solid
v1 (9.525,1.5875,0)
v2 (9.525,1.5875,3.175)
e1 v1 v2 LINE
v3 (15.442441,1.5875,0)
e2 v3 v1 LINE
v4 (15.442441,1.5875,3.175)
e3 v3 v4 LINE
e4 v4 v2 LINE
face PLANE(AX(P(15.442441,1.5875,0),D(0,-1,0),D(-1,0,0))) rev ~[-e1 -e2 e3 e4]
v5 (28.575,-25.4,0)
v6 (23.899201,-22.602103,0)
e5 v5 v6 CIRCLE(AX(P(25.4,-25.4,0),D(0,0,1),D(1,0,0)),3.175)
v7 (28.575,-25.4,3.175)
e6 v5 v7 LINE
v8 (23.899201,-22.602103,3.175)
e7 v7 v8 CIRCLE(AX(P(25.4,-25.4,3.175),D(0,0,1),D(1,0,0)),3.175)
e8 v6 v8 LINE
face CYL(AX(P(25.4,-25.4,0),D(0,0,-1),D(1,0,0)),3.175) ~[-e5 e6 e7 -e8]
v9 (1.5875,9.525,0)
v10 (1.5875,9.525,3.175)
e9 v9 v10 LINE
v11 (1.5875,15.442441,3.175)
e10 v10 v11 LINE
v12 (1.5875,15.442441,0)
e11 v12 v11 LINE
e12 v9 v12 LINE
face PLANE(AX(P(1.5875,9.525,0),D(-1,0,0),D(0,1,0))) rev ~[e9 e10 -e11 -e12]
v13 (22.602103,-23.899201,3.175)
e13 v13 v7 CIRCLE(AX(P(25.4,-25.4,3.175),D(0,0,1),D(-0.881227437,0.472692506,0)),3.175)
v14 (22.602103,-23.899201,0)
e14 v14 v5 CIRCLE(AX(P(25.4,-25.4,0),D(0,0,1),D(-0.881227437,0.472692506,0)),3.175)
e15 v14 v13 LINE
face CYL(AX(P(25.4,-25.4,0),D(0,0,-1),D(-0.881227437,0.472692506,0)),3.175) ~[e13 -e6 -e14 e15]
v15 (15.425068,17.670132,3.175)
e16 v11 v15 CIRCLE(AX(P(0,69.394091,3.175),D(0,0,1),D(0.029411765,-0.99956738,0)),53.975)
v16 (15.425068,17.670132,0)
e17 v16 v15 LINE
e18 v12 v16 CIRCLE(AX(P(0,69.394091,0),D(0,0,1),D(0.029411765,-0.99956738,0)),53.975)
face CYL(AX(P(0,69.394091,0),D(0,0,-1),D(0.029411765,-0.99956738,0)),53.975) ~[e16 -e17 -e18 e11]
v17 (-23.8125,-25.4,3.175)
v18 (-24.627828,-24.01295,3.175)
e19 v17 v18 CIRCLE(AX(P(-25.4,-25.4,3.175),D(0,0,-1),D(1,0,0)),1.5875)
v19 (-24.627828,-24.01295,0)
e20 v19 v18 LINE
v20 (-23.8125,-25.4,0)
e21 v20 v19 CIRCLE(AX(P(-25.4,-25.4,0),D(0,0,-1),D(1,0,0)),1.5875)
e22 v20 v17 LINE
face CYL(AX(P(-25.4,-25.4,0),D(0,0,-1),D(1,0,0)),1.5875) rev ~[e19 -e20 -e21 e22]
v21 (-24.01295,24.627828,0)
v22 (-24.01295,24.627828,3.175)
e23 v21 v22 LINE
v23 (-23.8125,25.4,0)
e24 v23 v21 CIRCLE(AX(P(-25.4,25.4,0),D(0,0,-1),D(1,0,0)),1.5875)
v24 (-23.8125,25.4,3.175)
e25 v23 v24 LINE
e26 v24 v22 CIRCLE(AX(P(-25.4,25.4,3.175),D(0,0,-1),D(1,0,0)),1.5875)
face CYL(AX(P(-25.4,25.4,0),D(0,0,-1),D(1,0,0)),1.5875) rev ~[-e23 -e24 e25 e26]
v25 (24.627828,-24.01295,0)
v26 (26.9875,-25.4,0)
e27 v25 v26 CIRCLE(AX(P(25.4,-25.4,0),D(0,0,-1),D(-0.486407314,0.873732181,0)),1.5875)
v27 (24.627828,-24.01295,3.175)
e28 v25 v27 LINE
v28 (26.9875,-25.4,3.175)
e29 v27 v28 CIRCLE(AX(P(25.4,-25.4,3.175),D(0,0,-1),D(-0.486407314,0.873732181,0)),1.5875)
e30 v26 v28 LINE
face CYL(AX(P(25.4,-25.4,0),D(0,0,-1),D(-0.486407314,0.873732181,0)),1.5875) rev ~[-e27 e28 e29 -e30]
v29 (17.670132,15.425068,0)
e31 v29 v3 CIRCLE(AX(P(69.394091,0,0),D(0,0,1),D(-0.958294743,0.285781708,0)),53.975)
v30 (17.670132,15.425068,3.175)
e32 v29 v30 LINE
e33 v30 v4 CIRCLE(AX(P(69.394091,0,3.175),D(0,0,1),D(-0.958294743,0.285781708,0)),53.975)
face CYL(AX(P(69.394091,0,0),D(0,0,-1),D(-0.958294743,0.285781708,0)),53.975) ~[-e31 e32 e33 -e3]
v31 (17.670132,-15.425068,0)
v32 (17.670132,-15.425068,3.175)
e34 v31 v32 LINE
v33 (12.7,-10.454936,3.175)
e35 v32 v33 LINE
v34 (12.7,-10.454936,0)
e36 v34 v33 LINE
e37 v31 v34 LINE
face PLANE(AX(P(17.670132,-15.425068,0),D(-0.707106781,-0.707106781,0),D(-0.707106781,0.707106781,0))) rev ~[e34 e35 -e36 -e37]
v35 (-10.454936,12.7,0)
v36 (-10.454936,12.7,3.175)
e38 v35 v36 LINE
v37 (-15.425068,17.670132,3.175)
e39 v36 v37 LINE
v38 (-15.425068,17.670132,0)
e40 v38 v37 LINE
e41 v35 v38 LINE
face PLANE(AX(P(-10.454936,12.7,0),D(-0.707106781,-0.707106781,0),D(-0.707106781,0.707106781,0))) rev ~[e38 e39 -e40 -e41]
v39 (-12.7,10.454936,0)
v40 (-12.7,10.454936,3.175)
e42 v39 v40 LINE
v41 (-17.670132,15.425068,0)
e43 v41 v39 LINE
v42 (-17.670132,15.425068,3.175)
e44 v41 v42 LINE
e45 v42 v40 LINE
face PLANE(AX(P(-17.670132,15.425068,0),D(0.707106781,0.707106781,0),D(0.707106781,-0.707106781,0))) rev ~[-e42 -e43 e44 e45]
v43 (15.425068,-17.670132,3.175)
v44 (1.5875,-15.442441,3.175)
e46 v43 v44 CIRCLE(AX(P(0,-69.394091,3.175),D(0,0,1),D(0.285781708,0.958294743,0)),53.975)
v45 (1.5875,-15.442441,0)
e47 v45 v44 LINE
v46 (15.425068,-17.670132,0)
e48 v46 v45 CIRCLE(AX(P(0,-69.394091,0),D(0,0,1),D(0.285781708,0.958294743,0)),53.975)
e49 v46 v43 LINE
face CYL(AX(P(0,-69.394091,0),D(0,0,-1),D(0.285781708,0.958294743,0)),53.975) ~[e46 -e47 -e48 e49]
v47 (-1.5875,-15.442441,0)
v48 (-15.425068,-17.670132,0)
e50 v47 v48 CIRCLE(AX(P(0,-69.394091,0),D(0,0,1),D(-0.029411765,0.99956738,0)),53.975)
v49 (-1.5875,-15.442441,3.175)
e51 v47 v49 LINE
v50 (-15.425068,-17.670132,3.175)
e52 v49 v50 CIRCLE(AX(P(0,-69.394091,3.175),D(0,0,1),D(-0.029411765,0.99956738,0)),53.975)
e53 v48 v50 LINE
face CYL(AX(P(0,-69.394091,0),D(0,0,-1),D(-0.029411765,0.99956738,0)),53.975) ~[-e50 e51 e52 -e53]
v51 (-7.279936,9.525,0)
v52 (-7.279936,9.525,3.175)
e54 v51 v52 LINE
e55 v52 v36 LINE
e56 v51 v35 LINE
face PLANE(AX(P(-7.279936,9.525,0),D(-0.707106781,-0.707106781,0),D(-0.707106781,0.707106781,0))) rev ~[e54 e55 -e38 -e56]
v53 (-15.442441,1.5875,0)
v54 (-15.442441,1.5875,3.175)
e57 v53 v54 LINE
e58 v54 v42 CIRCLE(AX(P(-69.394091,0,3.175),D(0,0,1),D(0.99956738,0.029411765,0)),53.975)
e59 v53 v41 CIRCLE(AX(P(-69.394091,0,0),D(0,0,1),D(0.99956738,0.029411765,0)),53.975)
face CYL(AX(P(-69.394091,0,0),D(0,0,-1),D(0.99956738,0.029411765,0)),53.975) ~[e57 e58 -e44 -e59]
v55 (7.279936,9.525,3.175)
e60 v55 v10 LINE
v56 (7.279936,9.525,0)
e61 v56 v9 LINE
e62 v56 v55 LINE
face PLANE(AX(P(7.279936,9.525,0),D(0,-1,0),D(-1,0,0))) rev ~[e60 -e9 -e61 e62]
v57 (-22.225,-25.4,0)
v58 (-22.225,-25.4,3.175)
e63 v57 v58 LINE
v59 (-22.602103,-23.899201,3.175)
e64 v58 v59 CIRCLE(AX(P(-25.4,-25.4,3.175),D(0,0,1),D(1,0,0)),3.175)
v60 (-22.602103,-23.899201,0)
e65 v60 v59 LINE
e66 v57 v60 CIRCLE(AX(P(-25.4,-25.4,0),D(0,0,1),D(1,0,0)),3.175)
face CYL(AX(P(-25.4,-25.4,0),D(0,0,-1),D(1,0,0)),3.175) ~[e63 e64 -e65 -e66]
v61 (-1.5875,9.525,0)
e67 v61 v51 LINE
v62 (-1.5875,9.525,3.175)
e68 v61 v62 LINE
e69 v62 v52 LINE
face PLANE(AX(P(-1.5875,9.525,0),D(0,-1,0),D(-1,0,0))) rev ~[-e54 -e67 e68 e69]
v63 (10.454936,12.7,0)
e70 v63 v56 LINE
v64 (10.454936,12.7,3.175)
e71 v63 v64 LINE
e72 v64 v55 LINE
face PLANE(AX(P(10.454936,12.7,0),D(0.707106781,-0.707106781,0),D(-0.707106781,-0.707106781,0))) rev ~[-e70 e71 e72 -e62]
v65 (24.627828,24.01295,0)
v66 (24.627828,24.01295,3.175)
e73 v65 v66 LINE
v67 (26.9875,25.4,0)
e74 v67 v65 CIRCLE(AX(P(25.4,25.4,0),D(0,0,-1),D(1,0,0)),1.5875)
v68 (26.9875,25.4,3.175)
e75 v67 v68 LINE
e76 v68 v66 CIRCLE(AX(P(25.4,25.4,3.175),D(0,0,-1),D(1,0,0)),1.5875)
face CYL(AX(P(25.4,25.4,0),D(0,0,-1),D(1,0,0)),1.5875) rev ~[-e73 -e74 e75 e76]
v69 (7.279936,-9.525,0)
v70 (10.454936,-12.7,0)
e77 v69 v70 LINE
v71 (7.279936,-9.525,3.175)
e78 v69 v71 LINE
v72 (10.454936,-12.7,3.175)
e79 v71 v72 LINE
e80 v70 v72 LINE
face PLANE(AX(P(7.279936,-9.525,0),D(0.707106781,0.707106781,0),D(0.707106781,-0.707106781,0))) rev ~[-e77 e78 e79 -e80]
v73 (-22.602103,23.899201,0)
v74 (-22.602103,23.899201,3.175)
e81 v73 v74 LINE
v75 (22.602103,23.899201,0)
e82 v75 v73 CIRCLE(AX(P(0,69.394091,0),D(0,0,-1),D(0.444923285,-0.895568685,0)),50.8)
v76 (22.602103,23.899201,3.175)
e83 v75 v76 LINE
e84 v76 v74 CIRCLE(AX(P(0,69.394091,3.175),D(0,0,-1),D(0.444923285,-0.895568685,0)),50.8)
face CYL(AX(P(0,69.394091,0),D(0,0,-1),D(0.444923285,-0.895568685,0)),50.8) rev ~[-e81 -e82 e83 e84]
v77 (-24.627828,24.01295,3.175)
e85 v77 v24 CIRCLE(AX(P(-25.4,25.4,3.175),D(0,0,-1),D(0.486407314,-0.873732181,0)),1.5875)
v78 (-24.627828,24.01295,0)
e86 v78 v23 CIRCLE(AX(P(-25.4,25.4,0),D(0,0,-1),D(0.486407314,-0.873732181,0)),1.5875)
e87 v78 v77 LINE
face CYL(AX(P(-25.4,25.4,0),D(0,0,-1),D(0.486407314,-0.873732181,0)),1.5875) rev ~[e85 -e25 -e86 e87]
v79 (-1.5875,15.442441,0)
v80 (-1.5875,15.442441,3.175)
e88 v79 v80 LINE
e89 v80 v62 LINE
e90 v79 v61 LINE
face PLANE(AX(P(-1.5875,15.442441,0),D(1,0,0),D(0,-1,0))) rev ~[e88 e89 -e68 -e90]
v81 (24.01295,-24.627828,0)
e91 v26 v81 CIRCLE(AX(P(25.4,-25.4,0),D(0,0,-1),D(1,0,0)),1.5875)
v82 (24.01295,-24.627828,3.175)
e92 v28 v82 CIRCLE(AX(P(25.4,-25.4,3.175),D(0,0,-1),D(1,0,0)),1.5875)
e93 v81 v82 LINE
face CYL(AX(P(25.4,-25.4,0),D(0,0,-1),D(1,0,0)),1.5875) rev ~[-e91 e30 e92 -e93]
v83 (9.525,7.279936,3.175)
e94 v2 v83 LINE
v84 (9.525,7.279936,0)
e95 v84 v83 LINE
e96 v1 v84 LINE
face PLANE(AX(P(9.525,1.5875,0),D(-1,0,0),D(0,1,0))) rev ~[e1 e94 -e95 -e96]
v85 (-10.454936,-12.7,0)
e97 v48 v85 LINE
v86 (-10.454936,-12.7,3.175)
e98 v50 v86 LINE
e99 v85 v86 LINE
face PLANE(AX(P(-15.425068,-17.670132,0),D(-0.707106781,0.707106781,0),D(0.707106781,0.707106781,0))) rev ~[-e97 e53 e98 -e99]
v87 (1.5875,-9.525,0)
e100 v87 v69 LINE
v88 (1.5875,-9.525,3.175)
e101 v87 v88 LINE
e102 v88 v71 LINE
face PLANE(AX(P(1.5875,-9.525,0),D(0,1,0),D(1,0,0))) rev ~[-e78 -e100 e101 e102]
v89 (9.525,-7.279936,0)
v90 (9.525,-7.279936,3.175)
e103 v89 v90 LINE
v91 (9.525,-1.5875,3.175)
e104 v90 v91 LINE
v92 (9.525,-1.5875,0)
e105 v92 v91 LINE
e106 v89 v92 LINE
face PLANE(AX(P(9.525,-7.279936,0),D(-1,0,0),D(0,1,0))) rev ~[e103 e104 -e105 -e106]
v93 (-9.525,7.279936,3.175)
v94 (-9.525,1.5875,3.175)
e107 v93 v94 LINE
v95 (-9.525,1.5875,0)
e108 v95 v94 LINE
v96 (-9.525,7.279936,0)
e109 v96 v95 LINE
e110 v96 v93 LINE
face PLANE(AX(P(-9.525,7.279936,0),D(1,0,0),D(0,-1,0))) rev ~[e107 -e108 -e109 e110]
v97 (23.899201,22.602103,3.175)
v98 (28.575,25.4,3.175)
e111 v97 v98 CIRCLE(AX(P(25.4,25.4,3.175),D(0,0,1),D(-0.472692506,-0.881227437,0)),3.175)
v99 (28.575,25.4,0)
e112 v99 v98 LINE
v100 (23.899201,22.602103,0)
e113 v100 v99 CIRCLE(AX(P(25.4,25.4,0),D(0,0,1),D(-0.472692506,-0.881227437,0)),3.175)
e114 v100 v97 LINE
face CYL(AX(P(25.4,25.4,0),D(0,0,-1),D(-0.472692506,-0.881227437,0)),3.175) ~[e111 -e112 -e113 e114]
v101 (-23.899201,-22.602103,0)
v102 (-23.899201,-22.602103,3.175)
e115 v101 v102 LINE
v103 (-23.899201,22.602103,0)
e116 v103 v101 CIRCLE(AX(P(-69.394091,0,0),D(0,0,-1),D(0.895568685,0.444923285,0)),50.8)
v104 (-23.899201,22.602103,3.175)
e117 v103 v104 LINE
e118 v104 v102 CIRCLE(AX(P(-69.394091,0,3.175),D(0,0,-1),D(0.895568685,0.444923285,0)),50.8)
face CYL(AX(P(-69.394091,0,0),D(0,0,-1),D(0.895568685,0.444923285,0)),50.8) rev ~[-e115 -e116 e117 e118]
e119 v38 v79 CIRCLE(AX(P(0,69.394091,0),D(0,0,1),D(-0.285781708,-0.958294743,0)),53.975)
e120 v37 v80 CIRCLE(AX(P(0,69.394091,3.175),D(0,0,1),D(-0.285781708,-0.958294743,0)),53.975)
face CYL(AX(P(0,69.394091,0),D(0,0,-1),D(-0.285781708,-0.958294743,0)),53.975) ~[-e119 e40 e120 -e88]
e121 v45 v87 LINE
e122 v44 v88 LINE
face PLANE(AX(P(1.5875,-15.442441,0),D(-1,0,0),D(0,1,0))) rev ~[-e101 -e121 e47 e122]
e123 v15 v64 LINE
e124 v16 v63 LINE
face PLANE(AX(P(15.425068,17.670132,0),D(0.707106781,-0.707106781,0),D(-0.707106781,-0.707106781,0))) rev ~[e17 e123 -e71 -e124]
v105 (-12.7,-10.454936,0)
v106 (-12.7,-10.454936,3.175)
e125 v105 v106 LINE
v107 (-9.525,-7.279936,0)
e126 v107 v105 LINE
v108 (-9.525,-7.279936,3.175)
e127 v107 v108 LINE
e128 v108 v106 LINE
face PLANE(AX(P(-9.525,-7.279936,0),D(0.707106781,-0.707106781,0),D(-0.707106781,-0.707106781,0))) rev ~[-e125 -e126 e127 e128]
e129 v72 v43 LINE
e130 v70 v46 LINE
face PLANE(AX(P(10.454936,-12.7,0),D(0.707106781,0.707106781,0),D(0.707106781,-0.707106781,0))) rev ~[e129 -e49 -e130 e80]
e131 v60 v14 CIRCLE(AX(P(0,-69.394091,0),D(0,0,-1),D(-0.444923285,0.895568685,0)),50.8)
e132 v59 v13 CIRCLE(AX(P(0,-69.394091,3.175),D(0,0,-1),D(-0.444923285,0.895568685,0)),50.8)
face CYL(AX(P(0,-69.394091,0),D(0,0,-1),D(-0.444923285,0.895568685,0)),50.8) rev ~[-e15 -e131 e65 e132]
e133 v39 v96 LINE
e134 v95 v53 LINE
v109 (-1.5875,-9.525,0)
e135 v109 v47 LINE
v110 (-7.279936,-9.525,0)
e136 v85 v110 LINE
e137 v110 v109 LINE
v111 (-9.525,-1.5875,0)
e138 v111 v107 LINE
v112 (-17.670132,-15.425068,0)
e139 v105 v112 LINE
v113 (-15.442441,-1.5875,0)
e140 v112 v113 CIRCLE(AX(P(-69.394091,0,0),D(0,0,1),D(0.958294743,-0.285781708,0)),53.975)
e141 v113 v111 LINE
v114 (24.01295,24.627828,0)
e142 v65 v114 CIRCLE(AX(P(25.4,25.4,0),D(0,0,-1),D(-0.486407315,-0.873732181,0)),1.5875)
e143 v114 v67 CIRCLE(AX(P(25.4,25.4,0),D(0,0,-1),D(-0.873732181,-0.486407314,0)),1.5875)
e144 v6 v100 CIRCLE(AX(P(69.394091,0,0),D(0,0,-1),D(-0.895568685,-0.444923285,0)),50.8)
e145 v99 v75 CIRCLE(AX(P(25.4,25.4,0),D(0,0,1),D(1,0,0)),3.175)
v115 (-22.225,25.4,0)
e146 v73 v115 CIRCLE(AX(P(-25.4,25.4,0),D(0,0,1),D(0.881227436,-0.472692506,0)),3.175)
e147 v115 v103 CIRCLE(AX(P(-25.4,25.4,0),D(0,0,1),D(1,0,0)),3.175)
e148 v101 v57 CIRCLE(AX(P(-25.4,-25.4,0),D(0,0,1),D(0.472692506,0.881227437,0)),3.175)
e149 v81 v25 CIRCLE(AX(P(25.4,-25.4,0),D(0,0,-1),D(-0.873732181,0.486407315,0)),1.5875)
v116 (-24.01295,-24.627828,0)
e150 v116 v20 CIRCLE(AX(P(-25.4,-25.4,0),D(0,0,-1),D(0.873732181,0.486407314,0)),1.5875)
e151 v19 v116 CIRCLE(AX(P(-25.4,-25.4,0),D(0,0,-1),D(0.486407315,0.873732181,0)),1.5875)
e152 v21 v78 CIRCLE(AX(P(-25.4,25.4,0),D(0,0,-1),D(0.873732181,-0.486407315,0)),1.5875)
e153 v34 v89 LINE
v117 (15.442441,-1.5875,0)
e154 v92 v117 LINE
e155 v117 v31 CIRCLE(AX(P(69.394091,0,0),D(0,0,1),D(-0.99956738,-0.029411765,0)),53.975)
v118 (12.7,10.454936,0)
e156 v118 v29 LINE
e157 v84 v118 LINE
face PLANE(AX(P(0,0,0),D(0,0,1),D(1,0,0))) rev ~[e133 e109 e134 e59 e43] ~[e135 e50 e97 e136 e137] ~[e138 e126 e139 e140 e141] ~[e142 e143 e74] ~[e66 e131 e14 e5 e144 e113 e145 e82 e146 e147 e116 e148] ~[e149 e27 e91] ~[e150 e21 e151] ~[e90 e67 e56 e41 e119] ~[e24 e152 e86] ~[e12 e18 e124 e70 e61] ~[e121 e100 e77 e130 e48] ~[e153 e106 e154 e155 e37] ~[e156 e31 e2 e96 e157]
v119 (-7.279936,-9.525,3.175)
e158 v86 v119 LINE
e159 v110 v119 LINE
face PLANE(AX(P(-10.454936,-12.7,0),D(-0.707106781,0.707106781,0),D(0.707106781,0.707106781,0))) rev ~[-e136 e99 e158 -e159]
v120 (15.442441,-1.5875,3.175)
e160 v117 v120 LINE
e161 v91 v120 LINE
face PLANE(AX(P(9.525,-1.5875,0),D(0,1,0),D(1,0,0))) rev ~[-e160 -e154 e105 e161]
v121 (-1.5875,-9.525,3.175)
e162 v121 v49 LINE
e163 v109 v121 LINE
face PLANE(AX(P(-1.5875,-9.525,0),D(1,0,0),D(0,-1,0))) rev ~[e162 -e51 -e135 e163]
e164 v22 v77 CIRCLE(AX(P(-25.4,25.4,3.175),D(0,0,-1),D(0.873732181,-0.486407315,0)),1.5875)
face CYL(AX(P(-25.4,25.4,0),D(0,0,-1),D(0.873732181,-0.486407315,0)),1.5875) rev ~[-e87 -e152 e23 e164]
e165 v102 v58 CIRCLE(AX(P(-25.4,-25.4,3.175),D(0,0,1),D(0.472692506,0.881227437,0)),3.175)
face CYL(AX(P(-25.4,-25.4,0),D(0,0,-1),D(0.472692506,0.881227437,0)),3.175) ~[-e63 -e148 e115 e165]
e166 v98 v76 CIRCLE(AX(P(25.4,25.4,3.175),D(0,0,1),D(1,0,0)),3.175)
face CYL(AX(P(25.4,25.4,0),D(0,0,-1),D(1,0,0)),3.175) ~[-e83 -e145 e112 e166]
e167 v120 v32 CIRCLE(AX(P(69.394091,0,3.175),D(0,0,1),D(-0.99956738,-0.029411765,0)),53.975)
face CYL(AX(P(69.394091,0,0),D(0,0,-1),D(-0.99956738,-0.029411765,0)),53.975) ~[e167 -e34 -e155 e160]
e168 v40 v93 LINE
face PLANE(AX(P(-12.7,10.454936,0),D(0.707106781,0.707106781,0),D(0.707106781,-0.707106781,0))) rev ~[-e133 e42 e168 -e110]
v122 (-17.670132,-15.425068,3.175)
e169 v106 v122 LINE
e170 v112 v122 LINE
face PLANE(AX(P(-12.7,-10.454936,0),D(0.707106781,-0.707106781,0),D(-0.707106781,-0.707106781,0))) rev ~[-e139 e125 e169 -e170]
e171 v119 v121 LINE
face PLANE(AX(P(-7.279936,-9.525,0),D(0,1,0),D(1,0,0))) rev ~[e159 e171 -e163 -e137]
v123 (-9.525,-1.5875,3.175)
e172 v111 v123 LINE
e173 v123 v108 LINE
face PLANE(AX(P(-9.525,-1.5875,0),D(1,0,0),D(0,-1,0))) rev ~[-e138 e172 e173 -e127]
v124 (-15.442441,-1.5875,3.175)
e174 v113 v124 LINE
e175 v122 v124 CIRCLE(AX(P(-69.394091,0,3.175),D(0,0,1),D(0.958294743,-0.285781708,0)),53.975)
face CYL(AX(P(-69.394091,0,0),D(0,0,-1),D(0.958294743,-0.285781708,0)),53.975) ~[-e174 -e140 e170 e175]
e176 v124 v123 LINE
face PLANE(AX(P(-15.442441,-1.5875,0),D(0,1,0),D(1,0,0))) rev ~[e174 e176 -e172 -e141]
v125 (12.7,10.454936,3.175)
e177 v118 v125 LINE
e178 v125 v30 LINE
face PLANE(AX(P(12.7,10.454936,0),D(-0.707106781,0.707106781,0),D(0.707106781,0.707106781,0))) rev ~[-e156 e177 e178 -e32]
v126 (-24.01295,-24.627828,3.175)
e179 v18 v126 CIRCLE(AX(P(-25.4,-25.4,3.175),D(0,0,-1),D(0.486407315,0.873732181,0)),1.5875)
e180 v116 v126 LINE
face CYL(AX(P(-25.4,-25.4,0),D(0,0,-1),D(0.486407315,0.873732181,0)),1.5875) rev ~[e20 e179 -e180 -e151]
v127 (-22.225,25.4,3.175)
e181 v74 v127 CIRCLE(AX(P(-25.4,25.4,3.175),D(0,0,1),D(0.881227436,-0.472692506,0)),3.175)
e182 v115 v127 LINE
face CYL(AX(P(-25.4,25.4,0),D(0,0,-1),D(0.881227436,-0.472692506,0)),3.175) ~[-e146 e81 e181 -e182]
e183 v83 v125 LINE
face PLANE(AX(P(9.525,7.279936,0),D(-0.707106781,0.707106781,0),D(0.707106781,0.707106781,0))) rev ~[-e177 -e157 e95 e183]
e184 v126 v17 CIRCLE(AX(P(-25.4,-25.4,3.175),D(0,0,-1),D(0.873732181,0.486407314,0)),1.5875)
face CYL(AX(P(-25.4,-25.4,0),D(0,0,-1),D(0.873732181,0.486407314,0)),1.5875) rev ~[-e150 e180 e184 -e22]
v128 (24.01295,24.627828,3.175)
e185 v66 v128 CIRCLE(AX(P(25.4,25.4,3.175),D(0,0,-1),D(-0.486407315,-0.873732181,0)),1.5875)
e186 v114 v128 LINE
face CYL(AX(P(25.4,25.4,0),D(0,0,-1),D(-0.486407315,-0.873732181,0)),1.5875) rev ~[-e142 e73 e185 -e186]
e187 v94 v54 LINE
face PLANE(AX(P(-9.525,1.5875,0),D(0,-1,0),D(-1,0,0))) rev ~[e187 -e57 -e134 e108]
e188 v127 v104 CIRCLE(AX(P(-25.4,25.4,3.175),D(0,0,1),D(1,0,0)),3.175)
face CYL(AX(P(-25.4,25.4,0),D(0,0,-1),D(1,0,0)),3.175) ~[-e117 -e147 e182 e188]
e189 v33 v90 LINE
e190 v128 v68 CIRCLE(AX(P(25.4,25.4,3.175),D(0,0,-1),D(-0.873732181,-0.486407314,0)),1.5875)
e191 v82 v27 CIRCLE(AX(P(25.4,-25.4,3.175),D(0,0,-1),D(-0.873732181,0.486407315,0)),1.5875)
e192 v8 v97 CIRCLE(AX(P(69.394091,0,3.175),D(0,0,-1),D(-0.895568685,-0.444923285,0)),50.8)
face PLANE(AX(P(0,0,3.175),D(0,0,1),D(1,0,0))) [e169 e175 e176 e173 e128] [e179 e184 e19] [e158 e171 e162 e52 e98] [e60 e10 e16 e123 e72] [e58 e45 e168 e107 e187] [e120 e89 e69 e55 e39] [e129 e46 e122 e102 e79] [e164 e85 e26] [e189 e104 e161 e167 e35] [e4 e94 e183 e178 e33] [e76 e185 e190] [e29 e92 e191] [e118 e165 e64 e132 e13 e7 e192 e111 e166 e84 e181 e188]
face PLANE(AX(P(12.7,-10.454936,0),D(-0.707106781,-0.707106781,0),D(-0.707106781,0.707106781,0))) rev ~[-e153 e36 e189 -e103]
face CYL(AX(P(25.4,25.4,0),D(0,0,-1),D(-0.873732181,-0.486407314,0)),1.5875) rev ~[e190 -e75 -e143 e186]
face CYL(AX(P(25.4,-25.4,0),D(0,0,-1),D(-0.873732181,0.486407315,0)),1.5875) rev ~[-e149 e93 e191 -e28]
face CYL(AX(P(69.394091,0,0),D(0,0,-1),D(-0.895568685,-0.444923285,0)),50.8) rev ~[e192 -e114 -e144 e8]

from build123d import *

# Parameters (mm, degrees)
F1_DEPTH = 3.175


with BuildPart() as f1:
    # F0 (on Top) → F1 (new body)
    with BuildSketch(Plane.XY):
        with BuildLine():
            ThreePointArc((-23.8992012939, 22.602102889), (-18.5940905122, 0), (-23.8992012939, -22.602102889))
            ThreePointArc((-23.8992012939, -22.602102889), (-23.1549359697, -23.1549359697), (-22.602102889, -23.8992012939))
            ThreePointArc((-22.602102889, -23.8992012939), (0, -18.5940905122), (22.602102889, -23.8992012939))
            ThreePointArc((22.602102889, -23.8992012939), (23.1549359697, -23.1549359697), (23.8992012939, -22.602102889))
            ThreePointArc((23.8992012939, -22.602102889), (18.5940905122, 0), (23.8992012939, 22.602102889))
            ThreePointArc((23.8992012939, 22.602102889), (23.1549359697, 23.1549359697), (22.602102889, 23.8992012939))
            ThreePointArc((22.602102889, 23.8992012939), (0, 18.5940905122), (-22.602102889, 23.8992012939))
            ThreePointArc((-22.602102889, 23.8992012939), (-23.1549359697, 23.1549359697), (-23.8992012939, 22.602102889))
        make_face()
        with BuildLine():
            ThreePointArc((15.4250677087, 17.6701317389), (17.1210557178, 18.2064936151), (18.7984489975, 18.7984489975))
            ThreePointArc((18.7984489975, 18.7984489975), (18.2064936151, 17.1210557178), (17.6701317389, 15.4250677087))
            ThreePointArc((17.6701317389, 15.4250677087), (16.1052257406, 8.5788994836), (15.4424411515, 1.5875))
            Line((15.4424411515, 1.5875), (15.875, 1.5875))
            Line((15.875, 1.5875), (15.875, -1.5875))
            Line((15.875, -1.5875), (15.4424411515, -1.5875))
            ThreePointArc((15.4424411515, -1.5875), (16.1052257406, -8.5788994836), (17.6701317389, -15.4250677087))
            ThreePointArc((17.6701317389, -15.4250677087), (18.2064936151, -17.1210557178), (18.7984489975, -18.7984489975))
            ThreePointArc((18.7984489975, -18.7984489975), (17.1210557178, -18.2064936151), (15.4250677087, -17.6701317389))
            ThreePointArc((15.4250677087, -17.6701317389), (8.5788994836, -16.1052257406), (1.5875, -15.4424411515))
            Line((1.5875, -15.4424411515), (1.5875, -15.875))
            Line((1.5875, -15.875), (-1.5875, -15.875))
            Line((-1.5875, -15.875), (-1.5875, -15.4424411515))
            ThreePointArc((-1.5875, -15.4424411515), (-8.5788994836, -16.1052257406), (-15.4250677087, -17.6701317389))
            ThreePointArc((-15.4250677087, -17.6701317389), (-17.1210557178, -18.2064936151), (-18.7984489975, -18.7984489975))
            ThreePointArc((-18.7984489975, -18.7984489975), (-18.2064936151, -17.1210557178), (-17.6701317389, -15.4250677087))
            ThreePointArc((-17.6701317389, -15.4250677087), (-16.1052257406, -8.5788994836), (-15.4424411515, -1.5875))
            Line((-15.4424411515, -1.5875), (-15.875, -1.5875))
            Line((-15.875, -1.5875), (-15.875, 1.5875))
            Line((-15.875, 1.5875), (-15.4424411515, 1.5875))
            ThreePointArc((-15.4424411515, 1.5875), (-16.1052257406, 8.5788994836), (-17.6701317389, 15.4250677087))
            ThreePointArc((-17.6701317389, 15.4250677087), (-18.2064936151, 17.1210557178), (-18.7984489975, 18.7984489975))
            ThreePointArc((-18.7984489975, 18.7984489975), (-17.1210557178, 18.2064936151), (-15.4250677087, 17.6701317389))
            ThreePointArc((-15.4250677087, 17.6701317389), (-8.5788994836, 16.1052257406), (-1.5875, 15.4424411515))
            Line((-1.5875, 15.4424411515), (-1.5875, 15.875))
            Line((-1.5875, 15.875), (1.5875, 15.875))
            Line((1.5875, 15.875), (1.5875, 15.4424411515))
            ThreePointArc((1.5875, 15.4424411515), (8.5788994836, 16.1052257406), (15.4250677087, 17.6701317389))
        make_face(mode=Mode.SUBTRACT)
        Polygon((9.525, 7.2799359697), (7.2799359697, 9.525), (1.5875, 9.525), (-1.5875, 9.525), (-7.2799359697, 9.525), (-9.525, 7.2799359697), (-9.525, 1.5875), (-9.525, -1.5875), (-9.525, -7.2799359697), (-7.2799359697, -9.525), (-1.5875, -9.525), (1.5875, -9.525), (7.2799359697, -9.525), (9.525, -7.2799359697), (9.525, -1.5875), (9.525, 1.5875), align=None)
        Polygon((-12.7, -10.4549359697), (-17.6701317389, -15.4250677087), (-15.4250677087, -17.6701317389), (-10.4549359697, -12.7), (-7.2799359697, -9.525), (-9.525, -9.525), (-9.525, -7.2799359697), align=None)
        Polygon((-10.4549359697, 12.7), (-15.4250677087, 17.6701317389), (-17.6701317389, 15.4250677087), (-12.7, 10.4549359697), (-9.525, 7.2799359697), (-9.525, 9.525), (-7.2799359697, 9.525), align=None)
        Polygon((17.6701317389, 15.4250677087), (15.4250677087, 17.6701317389), (10.4549359697, 12.7), (7.2799359697, 9.525), (9.525, 9.525), (9.525, 7.2799359697), (12.7, 10.4549359697), align=None)
        Polygon((15.4250677087, -17.6701317389), (17.6701317389, -15.4250677087), (12.7, -10.4549359697), (9.525, -7.2799359697), (9.525, -9.525), (7.2799359697, -9.525), (10.4549359697, -12.7), align=None)
        with BuildLine():
            ThreePointArc((-23.8125, -25.4), (-26.7685720081, -26.2044668474), (-24.6278283887, -24.0129501621))
            ThreePointArc((-24.6278283887, -24.0129501621), (-24.2580020364, -23.3103735942), (-23.8992012939, -22.602102889))
            ThreePointArc((-23.8992012939, -22.602102889), (-28.1244871895, -27.03027438), (-22.225, -25.4))
            ThreePointArc((-22.225, -25.4), (-22.3207185637, -24.6262747023), (-22.602102889, -23.8992012939))
            ThreePointArc((-22.602102889, -23.8992012939), (-23.3103735942, -24.2580020364), (-24.0129501621, -24.6278283887))
            ThreePointArc((-24.0129501621, -24.6278283887), (-23.8634294895, -25.0011174155), (-23.8125, -25.4))
        make_face()
        with BuildLine():
            ThreePointArc((-22.225, 25.4), (-28.1244871895, 27.03027438), (-23.8992012939, 22.602102889))
            ThreePointArc((-23.8992012939, 22.602102889), (-24.2580020364, 23.3103735942), (-24.6278283887, 24.0129501621))
            ThreePointArc((-24.6278283887, 24.0129501621), (-26.7685720081, 26.2044668474), (-23.8125, 25.4))
            ThreePointArc((-23.8125, 25.4), (-23.8634294895, 25.0011174155), (-24.0129501621, 24.6278283887))
            ThreePointArc((-24.0129501621, 24.6278283887), (-23.3103735942, 24.2580020364), (-22.602102889, 23.8992012939))
            ThreePointArc((-22.602102889, 23.8992012939), (-22.3207185637, 24.6262747023), (-22.225, 25.4))
        make_face()
        with BuildLine():
            ThreePointArc((28.575, 25.4), (24.6262747023, 28.4792814363), (22.602102889, 23.8992012939))
            ThreePointArc((22.602102889, 23.8992012939), (23.3103735942, 24.2580020364), (24.0129501621, 24.6278283887))
            ThreePointArc((24.0129501621, 24.6278283887), (25.0011174155, 26.9365705105), (26.9875, 25.4))
            ThreePointArc((26.9875, 25.4), (26.2044668474, 24.0314279919), (24.6278283887, 24.0129501621))
            ThreePointArc((24.6278283887, 24.0129501621), (24.2580020364, 23.3103735942), (23.8992012939, 22.602102889))
            ThreePointArc((23.8992012939, 22.602102889), (27.03027438, 22.6755128105), (28.575, 25.4))
        make_face()
        with BuildLine():
            ThreePointArc((24.0129501621, -24.6278283887), (23.3103735942, -24.2580020364), (22.602102889, -23.8992012939))
            ThreePointArc((22.602102889, -23.8992012939), (24.6262747023, -28.4792814363), (28.575, -25.4))
            ThreePointArc((28.575, -25.4), (27.03027438, -22.6755128105), (23.8992012939, -22.602102889))
            ThreePointArc((23.8992012939, -22.602102889), (24.2580020364, -23.3103735942), (24.6278283887, -24.0129501621))
            ThreePointArc((24.6278283887, -24.0129501621), (26.2044668474, -24.0314279919), (26.9875, -25.4))
            ThreePointArc((26.9875, -25.4), (25.0011174155, -26.9365705105), (24.0129501621, -24.6278283887))
        make_face()
        with BuildLine():
            Line((1.5875, 12.7), (1.5875, 15.4424411515))
            ThreePointArc((1.5875, 15.4424411515), (0, 15.4190905122), (-1.5875, 15.4424411515))
            Line((-1.5875, 15.4424411515), (-1.5875, 12.7))
            Line((-1.5875, 12.7), (-1.5875, 9.525))
            Line((-1.5875, 9.525), (1.5875, 9.525))
            Line((1.5875, 9.525), (1.5875, 12.7))
        make_face()
        with BuildLine():
            Line((-12.7, 1.5875), (-15.4424411515, 1.5875))
            ThreePointArc((-15.4424411515, 1.5875), (-15.4190905122, 0), (-15.4424411515, -1.5875))
            Line((-15.4424411515, -1.5875), (-12.7, -1.5875))
            Line((-12.7, -1.5875), (-9.525, -1.5875))
            Line((-9.525, -1.5875), (-9.525, 1.5875))
            Line((-9.525, 1.5875), (-12.7, 1.5875))
        make_face()
        with BuildLine():
            ThreePointArc((15.4424411515, -1.5875), (15.4190905122, 0), (15.4424411515, 1.5875))
            Line((15.4424411515, 1.5875), (12.7, 1.5875))
            Line((12.7, 1.5875), (9.525, 1.5875))
            Line((9.525, 1.5875), (9.525, -1.5875))
            Line((9.525, -1.5875), (12.7, -1.5875))
            Line((12.7, -1.5875), (15.4424411515, -1.5875))
        make_face()
        with BuildLine():
            ThreePointArc((-1.5875, -15.4424411515), (0, -15.4190905122), (1.5875, -15.4424411515))
            Line((1.5875, -15.4424411515), (1.5875, -12.7))
            Line((1.5875, -12.7), (1.5875, -9.525))
            Line((1.5875, -9.525), (-1.5875, -9.525))
            Line((-1.5875, -9.525), (-1.5875, -12.7))
            Line((-1.5875, -12.7), (-1.5875, -15.4424411515))
        make_face()
        with BuildLine():
            ThreePointArc((18.7984489975, -18.7984489975), (18.2064936151, -17.1210557178), (17.6701317389, -15.4250677087))
            Line((17.6701317389, -15.4250677087), (15.4250677087, -17.6701317389))
            ThreePointArc((15.4250677087, -17.6701317389), (17.1210557178, -18.2064936151), (18.7984489975, -18.7984489975))
        make_face()
        with BuildLine():
            ThreePointArc((17.6701317389, 15.4250677087), (18.2064936151, 17.1210557178), (18.7984489975, 18.7984489975))
            ThreePointArc((18.7984489975, 18.7984489975), (17.1210557178, 18.2064936151), (15.4250677087, 17.6701317389))
            Line((15.4250677087, 17.6701317389), (17.6701317389, 15.4250677087))
        make_face()
        with BuildLine():
            Line((-17.6701317389, 15.4250677087), (-15.4250677087, 17.6701317389))
            ThreePointArc((-15.4250677087, 17.6701317389), (-17.1210557178, 18.2064936151), (-18.7984489975, 18.7984489975))
            ThreePointArc((-18.7984489975, 18.7984489975), (-18.2064936151, 17.1210557178), (-17.6701317389, 15.4250677087))
        make_face()
        with BuildLine():
            Line((-15.4250677087, -17.6701317389), (-17.6701317389, -15.4250677087))
            ThreePointArc((-17.6701317389, -15.4250677087), (-18.2064936151, -17.1210557178), (-18.7984489975, -18.7984489975))
            ThreePointArc((-18.7984489975, -18.7984489975), (-17.1210557178, -18.2064936151), (-15.4250677087, -17.6701317389))
        make_face()
        Polygon((9.525, -9.525), (9.525, -7.2799359697), (7.2799359697, -9.525), align=None)
        Polygon((9.525, 9.525), (7.2799359697, 9.525), (9.525, 7.2799359697), align=None)
        Polygon((-9.525, 7.2799359697), (-7.2799359697, 9.525), (-9.525, 9.525), align=None)
        Polygon((-7.2799359697, -9.525), (-9.525, -7.2799359697), (-9.525, -9.525), align=None)
        with BuildLine():
            ThreePointArc((-24.6278283887, 24.0129501621), (-24.2580020364, 23.3103735942), (-23.8992012939, 22.602102889))
            ThreePointArc((-23.8992012939, 22.602102889), (-23.1549359697, 23.1549359697), (-22.602102889, 23.8992012939))
            ThreePointArc((-22.602102889, 23.8992012939), (-23.3103735942, 24.2580020364), (-24.0129501621, 24.6278283887))
            ThreePointArc((-24.0129501621, 24.6278283887), (-24.2774679849, 24.2774679849), (-24.6278283887, 24.0129501621))
        make_face()
        with BuildLine():
            ThreePointArc((24.0129501621, 24.6278283887), (23.3103735942, 24.2580020364), (22.602102889, 23.8992012939))
            ThreePointArc((22.602102889, 23.8992012939), (23.1549359697, 23.1549359697), (23.8992012939, 22.602102889))
            ThreePointArc((23.8992012939, 22.602102889), (24.2580020364, 23.3103735942), (24.6278283887, 24.0129501621))
            ThreePointArc((24.6278283887, 24.0129501621), (24.2774679849, 24.2774679849), (24.0129501621, 24.6278283887))
        make_face()
        with BuildLine():
            ThreePointArc((23.8992012939, -22.602102889), (23.1549359697, -23.1549359697), (22.602102889, -23.8992012939))
            ThreePointArc((22.602102889, -23.8992012939), (23.3103735942, -24.2580020364), (24.0129501621, -24.6278283887))
            ThreePointArc((24.0129501621, -24.6278283887), (24.2774679849, -24.2774679849), (24.6278283887, -24.0129501621))
            ThreePointArc((24.6278283887, -24.0129501621), (24.2580020364, -23.3103735942), (23.8992012939, -22.602102889))
        make_face()
        with BuildLine():
            ThreePointArc((-23.8992012939, -22.602102889), (-24.2580020364, -23.3103735942), (-24.6278283887, -24.0129501621))
            ThreePointArc((-24.6278283887, -24.0129501621), (-24.2774679849, -24.2774679849), (-24.0129501621, -24.6278283887))
            ThreePointArc((-24.0129501621, -24.6278283887), (-23.3103735942, -24.2580020364), (-22.602102889, -23.8992012939))
            ThreePointArc((-22.602102889, -23.8992012939), (-23.1549359697, -23.1549359697), (-23.8992012939, -22.602102889))
        make_face()
        with BuildLine():
            Line((1.5875, -15.875), (1.5875, -15.4424411515))
            ThreePointArc((1.5875, -15.4424411515), (0, -15.4190905122), (-1.5875, -15.4424411515))
            Line((-1.5875, -15.4424411515), (-1.5875, -15.875))
            Line((-1.5875, -15.875), (1.5875, -15.875))
        make_face()
        with BuildLine():
            ThreePointArc((-15.4424411515, -1.5875), (-15.4190905122, 0), (-15.4424411515, 1.5875))
            Line((-15.4424411515, 1.5875), (-15.875, 1.5875))
            Line((-15.875, 1.5875), (-15.875, -1.5875))
            Line((-15.875, -1.5875), (-15.4424411515, -1.5875))
        make_face()
        with BuildLine():
            ThreePointArc((-1.5875, 15.4424411515), (0, 15.4190905122), (1.5875, 15.4424411515))
            Line((1.5875, 15.4424411515), (1.5875, 15.875))
            Line((1.5875, 15.875), (-1.5875, 15.875))
            Line((-1.5875, 15.875), (-1.5875, 15.4424411515))
        make_face()
        with BuildLine():
            Line((15.875, 1.5875), (15.4424411515, 1.5875))
            ThreePointArc((15.4424411515, 1.5875), (15.4190905122, 0), (15.4424411515, -1.5875))
            Line((15.4424411515, -1.5875), (15.875, -1.5875))
            Line((15.875, -1.5875), (15.875, 1.5875))
        make_face()
    extrude(amount=F1_DEPTH)


solid = f1.part
